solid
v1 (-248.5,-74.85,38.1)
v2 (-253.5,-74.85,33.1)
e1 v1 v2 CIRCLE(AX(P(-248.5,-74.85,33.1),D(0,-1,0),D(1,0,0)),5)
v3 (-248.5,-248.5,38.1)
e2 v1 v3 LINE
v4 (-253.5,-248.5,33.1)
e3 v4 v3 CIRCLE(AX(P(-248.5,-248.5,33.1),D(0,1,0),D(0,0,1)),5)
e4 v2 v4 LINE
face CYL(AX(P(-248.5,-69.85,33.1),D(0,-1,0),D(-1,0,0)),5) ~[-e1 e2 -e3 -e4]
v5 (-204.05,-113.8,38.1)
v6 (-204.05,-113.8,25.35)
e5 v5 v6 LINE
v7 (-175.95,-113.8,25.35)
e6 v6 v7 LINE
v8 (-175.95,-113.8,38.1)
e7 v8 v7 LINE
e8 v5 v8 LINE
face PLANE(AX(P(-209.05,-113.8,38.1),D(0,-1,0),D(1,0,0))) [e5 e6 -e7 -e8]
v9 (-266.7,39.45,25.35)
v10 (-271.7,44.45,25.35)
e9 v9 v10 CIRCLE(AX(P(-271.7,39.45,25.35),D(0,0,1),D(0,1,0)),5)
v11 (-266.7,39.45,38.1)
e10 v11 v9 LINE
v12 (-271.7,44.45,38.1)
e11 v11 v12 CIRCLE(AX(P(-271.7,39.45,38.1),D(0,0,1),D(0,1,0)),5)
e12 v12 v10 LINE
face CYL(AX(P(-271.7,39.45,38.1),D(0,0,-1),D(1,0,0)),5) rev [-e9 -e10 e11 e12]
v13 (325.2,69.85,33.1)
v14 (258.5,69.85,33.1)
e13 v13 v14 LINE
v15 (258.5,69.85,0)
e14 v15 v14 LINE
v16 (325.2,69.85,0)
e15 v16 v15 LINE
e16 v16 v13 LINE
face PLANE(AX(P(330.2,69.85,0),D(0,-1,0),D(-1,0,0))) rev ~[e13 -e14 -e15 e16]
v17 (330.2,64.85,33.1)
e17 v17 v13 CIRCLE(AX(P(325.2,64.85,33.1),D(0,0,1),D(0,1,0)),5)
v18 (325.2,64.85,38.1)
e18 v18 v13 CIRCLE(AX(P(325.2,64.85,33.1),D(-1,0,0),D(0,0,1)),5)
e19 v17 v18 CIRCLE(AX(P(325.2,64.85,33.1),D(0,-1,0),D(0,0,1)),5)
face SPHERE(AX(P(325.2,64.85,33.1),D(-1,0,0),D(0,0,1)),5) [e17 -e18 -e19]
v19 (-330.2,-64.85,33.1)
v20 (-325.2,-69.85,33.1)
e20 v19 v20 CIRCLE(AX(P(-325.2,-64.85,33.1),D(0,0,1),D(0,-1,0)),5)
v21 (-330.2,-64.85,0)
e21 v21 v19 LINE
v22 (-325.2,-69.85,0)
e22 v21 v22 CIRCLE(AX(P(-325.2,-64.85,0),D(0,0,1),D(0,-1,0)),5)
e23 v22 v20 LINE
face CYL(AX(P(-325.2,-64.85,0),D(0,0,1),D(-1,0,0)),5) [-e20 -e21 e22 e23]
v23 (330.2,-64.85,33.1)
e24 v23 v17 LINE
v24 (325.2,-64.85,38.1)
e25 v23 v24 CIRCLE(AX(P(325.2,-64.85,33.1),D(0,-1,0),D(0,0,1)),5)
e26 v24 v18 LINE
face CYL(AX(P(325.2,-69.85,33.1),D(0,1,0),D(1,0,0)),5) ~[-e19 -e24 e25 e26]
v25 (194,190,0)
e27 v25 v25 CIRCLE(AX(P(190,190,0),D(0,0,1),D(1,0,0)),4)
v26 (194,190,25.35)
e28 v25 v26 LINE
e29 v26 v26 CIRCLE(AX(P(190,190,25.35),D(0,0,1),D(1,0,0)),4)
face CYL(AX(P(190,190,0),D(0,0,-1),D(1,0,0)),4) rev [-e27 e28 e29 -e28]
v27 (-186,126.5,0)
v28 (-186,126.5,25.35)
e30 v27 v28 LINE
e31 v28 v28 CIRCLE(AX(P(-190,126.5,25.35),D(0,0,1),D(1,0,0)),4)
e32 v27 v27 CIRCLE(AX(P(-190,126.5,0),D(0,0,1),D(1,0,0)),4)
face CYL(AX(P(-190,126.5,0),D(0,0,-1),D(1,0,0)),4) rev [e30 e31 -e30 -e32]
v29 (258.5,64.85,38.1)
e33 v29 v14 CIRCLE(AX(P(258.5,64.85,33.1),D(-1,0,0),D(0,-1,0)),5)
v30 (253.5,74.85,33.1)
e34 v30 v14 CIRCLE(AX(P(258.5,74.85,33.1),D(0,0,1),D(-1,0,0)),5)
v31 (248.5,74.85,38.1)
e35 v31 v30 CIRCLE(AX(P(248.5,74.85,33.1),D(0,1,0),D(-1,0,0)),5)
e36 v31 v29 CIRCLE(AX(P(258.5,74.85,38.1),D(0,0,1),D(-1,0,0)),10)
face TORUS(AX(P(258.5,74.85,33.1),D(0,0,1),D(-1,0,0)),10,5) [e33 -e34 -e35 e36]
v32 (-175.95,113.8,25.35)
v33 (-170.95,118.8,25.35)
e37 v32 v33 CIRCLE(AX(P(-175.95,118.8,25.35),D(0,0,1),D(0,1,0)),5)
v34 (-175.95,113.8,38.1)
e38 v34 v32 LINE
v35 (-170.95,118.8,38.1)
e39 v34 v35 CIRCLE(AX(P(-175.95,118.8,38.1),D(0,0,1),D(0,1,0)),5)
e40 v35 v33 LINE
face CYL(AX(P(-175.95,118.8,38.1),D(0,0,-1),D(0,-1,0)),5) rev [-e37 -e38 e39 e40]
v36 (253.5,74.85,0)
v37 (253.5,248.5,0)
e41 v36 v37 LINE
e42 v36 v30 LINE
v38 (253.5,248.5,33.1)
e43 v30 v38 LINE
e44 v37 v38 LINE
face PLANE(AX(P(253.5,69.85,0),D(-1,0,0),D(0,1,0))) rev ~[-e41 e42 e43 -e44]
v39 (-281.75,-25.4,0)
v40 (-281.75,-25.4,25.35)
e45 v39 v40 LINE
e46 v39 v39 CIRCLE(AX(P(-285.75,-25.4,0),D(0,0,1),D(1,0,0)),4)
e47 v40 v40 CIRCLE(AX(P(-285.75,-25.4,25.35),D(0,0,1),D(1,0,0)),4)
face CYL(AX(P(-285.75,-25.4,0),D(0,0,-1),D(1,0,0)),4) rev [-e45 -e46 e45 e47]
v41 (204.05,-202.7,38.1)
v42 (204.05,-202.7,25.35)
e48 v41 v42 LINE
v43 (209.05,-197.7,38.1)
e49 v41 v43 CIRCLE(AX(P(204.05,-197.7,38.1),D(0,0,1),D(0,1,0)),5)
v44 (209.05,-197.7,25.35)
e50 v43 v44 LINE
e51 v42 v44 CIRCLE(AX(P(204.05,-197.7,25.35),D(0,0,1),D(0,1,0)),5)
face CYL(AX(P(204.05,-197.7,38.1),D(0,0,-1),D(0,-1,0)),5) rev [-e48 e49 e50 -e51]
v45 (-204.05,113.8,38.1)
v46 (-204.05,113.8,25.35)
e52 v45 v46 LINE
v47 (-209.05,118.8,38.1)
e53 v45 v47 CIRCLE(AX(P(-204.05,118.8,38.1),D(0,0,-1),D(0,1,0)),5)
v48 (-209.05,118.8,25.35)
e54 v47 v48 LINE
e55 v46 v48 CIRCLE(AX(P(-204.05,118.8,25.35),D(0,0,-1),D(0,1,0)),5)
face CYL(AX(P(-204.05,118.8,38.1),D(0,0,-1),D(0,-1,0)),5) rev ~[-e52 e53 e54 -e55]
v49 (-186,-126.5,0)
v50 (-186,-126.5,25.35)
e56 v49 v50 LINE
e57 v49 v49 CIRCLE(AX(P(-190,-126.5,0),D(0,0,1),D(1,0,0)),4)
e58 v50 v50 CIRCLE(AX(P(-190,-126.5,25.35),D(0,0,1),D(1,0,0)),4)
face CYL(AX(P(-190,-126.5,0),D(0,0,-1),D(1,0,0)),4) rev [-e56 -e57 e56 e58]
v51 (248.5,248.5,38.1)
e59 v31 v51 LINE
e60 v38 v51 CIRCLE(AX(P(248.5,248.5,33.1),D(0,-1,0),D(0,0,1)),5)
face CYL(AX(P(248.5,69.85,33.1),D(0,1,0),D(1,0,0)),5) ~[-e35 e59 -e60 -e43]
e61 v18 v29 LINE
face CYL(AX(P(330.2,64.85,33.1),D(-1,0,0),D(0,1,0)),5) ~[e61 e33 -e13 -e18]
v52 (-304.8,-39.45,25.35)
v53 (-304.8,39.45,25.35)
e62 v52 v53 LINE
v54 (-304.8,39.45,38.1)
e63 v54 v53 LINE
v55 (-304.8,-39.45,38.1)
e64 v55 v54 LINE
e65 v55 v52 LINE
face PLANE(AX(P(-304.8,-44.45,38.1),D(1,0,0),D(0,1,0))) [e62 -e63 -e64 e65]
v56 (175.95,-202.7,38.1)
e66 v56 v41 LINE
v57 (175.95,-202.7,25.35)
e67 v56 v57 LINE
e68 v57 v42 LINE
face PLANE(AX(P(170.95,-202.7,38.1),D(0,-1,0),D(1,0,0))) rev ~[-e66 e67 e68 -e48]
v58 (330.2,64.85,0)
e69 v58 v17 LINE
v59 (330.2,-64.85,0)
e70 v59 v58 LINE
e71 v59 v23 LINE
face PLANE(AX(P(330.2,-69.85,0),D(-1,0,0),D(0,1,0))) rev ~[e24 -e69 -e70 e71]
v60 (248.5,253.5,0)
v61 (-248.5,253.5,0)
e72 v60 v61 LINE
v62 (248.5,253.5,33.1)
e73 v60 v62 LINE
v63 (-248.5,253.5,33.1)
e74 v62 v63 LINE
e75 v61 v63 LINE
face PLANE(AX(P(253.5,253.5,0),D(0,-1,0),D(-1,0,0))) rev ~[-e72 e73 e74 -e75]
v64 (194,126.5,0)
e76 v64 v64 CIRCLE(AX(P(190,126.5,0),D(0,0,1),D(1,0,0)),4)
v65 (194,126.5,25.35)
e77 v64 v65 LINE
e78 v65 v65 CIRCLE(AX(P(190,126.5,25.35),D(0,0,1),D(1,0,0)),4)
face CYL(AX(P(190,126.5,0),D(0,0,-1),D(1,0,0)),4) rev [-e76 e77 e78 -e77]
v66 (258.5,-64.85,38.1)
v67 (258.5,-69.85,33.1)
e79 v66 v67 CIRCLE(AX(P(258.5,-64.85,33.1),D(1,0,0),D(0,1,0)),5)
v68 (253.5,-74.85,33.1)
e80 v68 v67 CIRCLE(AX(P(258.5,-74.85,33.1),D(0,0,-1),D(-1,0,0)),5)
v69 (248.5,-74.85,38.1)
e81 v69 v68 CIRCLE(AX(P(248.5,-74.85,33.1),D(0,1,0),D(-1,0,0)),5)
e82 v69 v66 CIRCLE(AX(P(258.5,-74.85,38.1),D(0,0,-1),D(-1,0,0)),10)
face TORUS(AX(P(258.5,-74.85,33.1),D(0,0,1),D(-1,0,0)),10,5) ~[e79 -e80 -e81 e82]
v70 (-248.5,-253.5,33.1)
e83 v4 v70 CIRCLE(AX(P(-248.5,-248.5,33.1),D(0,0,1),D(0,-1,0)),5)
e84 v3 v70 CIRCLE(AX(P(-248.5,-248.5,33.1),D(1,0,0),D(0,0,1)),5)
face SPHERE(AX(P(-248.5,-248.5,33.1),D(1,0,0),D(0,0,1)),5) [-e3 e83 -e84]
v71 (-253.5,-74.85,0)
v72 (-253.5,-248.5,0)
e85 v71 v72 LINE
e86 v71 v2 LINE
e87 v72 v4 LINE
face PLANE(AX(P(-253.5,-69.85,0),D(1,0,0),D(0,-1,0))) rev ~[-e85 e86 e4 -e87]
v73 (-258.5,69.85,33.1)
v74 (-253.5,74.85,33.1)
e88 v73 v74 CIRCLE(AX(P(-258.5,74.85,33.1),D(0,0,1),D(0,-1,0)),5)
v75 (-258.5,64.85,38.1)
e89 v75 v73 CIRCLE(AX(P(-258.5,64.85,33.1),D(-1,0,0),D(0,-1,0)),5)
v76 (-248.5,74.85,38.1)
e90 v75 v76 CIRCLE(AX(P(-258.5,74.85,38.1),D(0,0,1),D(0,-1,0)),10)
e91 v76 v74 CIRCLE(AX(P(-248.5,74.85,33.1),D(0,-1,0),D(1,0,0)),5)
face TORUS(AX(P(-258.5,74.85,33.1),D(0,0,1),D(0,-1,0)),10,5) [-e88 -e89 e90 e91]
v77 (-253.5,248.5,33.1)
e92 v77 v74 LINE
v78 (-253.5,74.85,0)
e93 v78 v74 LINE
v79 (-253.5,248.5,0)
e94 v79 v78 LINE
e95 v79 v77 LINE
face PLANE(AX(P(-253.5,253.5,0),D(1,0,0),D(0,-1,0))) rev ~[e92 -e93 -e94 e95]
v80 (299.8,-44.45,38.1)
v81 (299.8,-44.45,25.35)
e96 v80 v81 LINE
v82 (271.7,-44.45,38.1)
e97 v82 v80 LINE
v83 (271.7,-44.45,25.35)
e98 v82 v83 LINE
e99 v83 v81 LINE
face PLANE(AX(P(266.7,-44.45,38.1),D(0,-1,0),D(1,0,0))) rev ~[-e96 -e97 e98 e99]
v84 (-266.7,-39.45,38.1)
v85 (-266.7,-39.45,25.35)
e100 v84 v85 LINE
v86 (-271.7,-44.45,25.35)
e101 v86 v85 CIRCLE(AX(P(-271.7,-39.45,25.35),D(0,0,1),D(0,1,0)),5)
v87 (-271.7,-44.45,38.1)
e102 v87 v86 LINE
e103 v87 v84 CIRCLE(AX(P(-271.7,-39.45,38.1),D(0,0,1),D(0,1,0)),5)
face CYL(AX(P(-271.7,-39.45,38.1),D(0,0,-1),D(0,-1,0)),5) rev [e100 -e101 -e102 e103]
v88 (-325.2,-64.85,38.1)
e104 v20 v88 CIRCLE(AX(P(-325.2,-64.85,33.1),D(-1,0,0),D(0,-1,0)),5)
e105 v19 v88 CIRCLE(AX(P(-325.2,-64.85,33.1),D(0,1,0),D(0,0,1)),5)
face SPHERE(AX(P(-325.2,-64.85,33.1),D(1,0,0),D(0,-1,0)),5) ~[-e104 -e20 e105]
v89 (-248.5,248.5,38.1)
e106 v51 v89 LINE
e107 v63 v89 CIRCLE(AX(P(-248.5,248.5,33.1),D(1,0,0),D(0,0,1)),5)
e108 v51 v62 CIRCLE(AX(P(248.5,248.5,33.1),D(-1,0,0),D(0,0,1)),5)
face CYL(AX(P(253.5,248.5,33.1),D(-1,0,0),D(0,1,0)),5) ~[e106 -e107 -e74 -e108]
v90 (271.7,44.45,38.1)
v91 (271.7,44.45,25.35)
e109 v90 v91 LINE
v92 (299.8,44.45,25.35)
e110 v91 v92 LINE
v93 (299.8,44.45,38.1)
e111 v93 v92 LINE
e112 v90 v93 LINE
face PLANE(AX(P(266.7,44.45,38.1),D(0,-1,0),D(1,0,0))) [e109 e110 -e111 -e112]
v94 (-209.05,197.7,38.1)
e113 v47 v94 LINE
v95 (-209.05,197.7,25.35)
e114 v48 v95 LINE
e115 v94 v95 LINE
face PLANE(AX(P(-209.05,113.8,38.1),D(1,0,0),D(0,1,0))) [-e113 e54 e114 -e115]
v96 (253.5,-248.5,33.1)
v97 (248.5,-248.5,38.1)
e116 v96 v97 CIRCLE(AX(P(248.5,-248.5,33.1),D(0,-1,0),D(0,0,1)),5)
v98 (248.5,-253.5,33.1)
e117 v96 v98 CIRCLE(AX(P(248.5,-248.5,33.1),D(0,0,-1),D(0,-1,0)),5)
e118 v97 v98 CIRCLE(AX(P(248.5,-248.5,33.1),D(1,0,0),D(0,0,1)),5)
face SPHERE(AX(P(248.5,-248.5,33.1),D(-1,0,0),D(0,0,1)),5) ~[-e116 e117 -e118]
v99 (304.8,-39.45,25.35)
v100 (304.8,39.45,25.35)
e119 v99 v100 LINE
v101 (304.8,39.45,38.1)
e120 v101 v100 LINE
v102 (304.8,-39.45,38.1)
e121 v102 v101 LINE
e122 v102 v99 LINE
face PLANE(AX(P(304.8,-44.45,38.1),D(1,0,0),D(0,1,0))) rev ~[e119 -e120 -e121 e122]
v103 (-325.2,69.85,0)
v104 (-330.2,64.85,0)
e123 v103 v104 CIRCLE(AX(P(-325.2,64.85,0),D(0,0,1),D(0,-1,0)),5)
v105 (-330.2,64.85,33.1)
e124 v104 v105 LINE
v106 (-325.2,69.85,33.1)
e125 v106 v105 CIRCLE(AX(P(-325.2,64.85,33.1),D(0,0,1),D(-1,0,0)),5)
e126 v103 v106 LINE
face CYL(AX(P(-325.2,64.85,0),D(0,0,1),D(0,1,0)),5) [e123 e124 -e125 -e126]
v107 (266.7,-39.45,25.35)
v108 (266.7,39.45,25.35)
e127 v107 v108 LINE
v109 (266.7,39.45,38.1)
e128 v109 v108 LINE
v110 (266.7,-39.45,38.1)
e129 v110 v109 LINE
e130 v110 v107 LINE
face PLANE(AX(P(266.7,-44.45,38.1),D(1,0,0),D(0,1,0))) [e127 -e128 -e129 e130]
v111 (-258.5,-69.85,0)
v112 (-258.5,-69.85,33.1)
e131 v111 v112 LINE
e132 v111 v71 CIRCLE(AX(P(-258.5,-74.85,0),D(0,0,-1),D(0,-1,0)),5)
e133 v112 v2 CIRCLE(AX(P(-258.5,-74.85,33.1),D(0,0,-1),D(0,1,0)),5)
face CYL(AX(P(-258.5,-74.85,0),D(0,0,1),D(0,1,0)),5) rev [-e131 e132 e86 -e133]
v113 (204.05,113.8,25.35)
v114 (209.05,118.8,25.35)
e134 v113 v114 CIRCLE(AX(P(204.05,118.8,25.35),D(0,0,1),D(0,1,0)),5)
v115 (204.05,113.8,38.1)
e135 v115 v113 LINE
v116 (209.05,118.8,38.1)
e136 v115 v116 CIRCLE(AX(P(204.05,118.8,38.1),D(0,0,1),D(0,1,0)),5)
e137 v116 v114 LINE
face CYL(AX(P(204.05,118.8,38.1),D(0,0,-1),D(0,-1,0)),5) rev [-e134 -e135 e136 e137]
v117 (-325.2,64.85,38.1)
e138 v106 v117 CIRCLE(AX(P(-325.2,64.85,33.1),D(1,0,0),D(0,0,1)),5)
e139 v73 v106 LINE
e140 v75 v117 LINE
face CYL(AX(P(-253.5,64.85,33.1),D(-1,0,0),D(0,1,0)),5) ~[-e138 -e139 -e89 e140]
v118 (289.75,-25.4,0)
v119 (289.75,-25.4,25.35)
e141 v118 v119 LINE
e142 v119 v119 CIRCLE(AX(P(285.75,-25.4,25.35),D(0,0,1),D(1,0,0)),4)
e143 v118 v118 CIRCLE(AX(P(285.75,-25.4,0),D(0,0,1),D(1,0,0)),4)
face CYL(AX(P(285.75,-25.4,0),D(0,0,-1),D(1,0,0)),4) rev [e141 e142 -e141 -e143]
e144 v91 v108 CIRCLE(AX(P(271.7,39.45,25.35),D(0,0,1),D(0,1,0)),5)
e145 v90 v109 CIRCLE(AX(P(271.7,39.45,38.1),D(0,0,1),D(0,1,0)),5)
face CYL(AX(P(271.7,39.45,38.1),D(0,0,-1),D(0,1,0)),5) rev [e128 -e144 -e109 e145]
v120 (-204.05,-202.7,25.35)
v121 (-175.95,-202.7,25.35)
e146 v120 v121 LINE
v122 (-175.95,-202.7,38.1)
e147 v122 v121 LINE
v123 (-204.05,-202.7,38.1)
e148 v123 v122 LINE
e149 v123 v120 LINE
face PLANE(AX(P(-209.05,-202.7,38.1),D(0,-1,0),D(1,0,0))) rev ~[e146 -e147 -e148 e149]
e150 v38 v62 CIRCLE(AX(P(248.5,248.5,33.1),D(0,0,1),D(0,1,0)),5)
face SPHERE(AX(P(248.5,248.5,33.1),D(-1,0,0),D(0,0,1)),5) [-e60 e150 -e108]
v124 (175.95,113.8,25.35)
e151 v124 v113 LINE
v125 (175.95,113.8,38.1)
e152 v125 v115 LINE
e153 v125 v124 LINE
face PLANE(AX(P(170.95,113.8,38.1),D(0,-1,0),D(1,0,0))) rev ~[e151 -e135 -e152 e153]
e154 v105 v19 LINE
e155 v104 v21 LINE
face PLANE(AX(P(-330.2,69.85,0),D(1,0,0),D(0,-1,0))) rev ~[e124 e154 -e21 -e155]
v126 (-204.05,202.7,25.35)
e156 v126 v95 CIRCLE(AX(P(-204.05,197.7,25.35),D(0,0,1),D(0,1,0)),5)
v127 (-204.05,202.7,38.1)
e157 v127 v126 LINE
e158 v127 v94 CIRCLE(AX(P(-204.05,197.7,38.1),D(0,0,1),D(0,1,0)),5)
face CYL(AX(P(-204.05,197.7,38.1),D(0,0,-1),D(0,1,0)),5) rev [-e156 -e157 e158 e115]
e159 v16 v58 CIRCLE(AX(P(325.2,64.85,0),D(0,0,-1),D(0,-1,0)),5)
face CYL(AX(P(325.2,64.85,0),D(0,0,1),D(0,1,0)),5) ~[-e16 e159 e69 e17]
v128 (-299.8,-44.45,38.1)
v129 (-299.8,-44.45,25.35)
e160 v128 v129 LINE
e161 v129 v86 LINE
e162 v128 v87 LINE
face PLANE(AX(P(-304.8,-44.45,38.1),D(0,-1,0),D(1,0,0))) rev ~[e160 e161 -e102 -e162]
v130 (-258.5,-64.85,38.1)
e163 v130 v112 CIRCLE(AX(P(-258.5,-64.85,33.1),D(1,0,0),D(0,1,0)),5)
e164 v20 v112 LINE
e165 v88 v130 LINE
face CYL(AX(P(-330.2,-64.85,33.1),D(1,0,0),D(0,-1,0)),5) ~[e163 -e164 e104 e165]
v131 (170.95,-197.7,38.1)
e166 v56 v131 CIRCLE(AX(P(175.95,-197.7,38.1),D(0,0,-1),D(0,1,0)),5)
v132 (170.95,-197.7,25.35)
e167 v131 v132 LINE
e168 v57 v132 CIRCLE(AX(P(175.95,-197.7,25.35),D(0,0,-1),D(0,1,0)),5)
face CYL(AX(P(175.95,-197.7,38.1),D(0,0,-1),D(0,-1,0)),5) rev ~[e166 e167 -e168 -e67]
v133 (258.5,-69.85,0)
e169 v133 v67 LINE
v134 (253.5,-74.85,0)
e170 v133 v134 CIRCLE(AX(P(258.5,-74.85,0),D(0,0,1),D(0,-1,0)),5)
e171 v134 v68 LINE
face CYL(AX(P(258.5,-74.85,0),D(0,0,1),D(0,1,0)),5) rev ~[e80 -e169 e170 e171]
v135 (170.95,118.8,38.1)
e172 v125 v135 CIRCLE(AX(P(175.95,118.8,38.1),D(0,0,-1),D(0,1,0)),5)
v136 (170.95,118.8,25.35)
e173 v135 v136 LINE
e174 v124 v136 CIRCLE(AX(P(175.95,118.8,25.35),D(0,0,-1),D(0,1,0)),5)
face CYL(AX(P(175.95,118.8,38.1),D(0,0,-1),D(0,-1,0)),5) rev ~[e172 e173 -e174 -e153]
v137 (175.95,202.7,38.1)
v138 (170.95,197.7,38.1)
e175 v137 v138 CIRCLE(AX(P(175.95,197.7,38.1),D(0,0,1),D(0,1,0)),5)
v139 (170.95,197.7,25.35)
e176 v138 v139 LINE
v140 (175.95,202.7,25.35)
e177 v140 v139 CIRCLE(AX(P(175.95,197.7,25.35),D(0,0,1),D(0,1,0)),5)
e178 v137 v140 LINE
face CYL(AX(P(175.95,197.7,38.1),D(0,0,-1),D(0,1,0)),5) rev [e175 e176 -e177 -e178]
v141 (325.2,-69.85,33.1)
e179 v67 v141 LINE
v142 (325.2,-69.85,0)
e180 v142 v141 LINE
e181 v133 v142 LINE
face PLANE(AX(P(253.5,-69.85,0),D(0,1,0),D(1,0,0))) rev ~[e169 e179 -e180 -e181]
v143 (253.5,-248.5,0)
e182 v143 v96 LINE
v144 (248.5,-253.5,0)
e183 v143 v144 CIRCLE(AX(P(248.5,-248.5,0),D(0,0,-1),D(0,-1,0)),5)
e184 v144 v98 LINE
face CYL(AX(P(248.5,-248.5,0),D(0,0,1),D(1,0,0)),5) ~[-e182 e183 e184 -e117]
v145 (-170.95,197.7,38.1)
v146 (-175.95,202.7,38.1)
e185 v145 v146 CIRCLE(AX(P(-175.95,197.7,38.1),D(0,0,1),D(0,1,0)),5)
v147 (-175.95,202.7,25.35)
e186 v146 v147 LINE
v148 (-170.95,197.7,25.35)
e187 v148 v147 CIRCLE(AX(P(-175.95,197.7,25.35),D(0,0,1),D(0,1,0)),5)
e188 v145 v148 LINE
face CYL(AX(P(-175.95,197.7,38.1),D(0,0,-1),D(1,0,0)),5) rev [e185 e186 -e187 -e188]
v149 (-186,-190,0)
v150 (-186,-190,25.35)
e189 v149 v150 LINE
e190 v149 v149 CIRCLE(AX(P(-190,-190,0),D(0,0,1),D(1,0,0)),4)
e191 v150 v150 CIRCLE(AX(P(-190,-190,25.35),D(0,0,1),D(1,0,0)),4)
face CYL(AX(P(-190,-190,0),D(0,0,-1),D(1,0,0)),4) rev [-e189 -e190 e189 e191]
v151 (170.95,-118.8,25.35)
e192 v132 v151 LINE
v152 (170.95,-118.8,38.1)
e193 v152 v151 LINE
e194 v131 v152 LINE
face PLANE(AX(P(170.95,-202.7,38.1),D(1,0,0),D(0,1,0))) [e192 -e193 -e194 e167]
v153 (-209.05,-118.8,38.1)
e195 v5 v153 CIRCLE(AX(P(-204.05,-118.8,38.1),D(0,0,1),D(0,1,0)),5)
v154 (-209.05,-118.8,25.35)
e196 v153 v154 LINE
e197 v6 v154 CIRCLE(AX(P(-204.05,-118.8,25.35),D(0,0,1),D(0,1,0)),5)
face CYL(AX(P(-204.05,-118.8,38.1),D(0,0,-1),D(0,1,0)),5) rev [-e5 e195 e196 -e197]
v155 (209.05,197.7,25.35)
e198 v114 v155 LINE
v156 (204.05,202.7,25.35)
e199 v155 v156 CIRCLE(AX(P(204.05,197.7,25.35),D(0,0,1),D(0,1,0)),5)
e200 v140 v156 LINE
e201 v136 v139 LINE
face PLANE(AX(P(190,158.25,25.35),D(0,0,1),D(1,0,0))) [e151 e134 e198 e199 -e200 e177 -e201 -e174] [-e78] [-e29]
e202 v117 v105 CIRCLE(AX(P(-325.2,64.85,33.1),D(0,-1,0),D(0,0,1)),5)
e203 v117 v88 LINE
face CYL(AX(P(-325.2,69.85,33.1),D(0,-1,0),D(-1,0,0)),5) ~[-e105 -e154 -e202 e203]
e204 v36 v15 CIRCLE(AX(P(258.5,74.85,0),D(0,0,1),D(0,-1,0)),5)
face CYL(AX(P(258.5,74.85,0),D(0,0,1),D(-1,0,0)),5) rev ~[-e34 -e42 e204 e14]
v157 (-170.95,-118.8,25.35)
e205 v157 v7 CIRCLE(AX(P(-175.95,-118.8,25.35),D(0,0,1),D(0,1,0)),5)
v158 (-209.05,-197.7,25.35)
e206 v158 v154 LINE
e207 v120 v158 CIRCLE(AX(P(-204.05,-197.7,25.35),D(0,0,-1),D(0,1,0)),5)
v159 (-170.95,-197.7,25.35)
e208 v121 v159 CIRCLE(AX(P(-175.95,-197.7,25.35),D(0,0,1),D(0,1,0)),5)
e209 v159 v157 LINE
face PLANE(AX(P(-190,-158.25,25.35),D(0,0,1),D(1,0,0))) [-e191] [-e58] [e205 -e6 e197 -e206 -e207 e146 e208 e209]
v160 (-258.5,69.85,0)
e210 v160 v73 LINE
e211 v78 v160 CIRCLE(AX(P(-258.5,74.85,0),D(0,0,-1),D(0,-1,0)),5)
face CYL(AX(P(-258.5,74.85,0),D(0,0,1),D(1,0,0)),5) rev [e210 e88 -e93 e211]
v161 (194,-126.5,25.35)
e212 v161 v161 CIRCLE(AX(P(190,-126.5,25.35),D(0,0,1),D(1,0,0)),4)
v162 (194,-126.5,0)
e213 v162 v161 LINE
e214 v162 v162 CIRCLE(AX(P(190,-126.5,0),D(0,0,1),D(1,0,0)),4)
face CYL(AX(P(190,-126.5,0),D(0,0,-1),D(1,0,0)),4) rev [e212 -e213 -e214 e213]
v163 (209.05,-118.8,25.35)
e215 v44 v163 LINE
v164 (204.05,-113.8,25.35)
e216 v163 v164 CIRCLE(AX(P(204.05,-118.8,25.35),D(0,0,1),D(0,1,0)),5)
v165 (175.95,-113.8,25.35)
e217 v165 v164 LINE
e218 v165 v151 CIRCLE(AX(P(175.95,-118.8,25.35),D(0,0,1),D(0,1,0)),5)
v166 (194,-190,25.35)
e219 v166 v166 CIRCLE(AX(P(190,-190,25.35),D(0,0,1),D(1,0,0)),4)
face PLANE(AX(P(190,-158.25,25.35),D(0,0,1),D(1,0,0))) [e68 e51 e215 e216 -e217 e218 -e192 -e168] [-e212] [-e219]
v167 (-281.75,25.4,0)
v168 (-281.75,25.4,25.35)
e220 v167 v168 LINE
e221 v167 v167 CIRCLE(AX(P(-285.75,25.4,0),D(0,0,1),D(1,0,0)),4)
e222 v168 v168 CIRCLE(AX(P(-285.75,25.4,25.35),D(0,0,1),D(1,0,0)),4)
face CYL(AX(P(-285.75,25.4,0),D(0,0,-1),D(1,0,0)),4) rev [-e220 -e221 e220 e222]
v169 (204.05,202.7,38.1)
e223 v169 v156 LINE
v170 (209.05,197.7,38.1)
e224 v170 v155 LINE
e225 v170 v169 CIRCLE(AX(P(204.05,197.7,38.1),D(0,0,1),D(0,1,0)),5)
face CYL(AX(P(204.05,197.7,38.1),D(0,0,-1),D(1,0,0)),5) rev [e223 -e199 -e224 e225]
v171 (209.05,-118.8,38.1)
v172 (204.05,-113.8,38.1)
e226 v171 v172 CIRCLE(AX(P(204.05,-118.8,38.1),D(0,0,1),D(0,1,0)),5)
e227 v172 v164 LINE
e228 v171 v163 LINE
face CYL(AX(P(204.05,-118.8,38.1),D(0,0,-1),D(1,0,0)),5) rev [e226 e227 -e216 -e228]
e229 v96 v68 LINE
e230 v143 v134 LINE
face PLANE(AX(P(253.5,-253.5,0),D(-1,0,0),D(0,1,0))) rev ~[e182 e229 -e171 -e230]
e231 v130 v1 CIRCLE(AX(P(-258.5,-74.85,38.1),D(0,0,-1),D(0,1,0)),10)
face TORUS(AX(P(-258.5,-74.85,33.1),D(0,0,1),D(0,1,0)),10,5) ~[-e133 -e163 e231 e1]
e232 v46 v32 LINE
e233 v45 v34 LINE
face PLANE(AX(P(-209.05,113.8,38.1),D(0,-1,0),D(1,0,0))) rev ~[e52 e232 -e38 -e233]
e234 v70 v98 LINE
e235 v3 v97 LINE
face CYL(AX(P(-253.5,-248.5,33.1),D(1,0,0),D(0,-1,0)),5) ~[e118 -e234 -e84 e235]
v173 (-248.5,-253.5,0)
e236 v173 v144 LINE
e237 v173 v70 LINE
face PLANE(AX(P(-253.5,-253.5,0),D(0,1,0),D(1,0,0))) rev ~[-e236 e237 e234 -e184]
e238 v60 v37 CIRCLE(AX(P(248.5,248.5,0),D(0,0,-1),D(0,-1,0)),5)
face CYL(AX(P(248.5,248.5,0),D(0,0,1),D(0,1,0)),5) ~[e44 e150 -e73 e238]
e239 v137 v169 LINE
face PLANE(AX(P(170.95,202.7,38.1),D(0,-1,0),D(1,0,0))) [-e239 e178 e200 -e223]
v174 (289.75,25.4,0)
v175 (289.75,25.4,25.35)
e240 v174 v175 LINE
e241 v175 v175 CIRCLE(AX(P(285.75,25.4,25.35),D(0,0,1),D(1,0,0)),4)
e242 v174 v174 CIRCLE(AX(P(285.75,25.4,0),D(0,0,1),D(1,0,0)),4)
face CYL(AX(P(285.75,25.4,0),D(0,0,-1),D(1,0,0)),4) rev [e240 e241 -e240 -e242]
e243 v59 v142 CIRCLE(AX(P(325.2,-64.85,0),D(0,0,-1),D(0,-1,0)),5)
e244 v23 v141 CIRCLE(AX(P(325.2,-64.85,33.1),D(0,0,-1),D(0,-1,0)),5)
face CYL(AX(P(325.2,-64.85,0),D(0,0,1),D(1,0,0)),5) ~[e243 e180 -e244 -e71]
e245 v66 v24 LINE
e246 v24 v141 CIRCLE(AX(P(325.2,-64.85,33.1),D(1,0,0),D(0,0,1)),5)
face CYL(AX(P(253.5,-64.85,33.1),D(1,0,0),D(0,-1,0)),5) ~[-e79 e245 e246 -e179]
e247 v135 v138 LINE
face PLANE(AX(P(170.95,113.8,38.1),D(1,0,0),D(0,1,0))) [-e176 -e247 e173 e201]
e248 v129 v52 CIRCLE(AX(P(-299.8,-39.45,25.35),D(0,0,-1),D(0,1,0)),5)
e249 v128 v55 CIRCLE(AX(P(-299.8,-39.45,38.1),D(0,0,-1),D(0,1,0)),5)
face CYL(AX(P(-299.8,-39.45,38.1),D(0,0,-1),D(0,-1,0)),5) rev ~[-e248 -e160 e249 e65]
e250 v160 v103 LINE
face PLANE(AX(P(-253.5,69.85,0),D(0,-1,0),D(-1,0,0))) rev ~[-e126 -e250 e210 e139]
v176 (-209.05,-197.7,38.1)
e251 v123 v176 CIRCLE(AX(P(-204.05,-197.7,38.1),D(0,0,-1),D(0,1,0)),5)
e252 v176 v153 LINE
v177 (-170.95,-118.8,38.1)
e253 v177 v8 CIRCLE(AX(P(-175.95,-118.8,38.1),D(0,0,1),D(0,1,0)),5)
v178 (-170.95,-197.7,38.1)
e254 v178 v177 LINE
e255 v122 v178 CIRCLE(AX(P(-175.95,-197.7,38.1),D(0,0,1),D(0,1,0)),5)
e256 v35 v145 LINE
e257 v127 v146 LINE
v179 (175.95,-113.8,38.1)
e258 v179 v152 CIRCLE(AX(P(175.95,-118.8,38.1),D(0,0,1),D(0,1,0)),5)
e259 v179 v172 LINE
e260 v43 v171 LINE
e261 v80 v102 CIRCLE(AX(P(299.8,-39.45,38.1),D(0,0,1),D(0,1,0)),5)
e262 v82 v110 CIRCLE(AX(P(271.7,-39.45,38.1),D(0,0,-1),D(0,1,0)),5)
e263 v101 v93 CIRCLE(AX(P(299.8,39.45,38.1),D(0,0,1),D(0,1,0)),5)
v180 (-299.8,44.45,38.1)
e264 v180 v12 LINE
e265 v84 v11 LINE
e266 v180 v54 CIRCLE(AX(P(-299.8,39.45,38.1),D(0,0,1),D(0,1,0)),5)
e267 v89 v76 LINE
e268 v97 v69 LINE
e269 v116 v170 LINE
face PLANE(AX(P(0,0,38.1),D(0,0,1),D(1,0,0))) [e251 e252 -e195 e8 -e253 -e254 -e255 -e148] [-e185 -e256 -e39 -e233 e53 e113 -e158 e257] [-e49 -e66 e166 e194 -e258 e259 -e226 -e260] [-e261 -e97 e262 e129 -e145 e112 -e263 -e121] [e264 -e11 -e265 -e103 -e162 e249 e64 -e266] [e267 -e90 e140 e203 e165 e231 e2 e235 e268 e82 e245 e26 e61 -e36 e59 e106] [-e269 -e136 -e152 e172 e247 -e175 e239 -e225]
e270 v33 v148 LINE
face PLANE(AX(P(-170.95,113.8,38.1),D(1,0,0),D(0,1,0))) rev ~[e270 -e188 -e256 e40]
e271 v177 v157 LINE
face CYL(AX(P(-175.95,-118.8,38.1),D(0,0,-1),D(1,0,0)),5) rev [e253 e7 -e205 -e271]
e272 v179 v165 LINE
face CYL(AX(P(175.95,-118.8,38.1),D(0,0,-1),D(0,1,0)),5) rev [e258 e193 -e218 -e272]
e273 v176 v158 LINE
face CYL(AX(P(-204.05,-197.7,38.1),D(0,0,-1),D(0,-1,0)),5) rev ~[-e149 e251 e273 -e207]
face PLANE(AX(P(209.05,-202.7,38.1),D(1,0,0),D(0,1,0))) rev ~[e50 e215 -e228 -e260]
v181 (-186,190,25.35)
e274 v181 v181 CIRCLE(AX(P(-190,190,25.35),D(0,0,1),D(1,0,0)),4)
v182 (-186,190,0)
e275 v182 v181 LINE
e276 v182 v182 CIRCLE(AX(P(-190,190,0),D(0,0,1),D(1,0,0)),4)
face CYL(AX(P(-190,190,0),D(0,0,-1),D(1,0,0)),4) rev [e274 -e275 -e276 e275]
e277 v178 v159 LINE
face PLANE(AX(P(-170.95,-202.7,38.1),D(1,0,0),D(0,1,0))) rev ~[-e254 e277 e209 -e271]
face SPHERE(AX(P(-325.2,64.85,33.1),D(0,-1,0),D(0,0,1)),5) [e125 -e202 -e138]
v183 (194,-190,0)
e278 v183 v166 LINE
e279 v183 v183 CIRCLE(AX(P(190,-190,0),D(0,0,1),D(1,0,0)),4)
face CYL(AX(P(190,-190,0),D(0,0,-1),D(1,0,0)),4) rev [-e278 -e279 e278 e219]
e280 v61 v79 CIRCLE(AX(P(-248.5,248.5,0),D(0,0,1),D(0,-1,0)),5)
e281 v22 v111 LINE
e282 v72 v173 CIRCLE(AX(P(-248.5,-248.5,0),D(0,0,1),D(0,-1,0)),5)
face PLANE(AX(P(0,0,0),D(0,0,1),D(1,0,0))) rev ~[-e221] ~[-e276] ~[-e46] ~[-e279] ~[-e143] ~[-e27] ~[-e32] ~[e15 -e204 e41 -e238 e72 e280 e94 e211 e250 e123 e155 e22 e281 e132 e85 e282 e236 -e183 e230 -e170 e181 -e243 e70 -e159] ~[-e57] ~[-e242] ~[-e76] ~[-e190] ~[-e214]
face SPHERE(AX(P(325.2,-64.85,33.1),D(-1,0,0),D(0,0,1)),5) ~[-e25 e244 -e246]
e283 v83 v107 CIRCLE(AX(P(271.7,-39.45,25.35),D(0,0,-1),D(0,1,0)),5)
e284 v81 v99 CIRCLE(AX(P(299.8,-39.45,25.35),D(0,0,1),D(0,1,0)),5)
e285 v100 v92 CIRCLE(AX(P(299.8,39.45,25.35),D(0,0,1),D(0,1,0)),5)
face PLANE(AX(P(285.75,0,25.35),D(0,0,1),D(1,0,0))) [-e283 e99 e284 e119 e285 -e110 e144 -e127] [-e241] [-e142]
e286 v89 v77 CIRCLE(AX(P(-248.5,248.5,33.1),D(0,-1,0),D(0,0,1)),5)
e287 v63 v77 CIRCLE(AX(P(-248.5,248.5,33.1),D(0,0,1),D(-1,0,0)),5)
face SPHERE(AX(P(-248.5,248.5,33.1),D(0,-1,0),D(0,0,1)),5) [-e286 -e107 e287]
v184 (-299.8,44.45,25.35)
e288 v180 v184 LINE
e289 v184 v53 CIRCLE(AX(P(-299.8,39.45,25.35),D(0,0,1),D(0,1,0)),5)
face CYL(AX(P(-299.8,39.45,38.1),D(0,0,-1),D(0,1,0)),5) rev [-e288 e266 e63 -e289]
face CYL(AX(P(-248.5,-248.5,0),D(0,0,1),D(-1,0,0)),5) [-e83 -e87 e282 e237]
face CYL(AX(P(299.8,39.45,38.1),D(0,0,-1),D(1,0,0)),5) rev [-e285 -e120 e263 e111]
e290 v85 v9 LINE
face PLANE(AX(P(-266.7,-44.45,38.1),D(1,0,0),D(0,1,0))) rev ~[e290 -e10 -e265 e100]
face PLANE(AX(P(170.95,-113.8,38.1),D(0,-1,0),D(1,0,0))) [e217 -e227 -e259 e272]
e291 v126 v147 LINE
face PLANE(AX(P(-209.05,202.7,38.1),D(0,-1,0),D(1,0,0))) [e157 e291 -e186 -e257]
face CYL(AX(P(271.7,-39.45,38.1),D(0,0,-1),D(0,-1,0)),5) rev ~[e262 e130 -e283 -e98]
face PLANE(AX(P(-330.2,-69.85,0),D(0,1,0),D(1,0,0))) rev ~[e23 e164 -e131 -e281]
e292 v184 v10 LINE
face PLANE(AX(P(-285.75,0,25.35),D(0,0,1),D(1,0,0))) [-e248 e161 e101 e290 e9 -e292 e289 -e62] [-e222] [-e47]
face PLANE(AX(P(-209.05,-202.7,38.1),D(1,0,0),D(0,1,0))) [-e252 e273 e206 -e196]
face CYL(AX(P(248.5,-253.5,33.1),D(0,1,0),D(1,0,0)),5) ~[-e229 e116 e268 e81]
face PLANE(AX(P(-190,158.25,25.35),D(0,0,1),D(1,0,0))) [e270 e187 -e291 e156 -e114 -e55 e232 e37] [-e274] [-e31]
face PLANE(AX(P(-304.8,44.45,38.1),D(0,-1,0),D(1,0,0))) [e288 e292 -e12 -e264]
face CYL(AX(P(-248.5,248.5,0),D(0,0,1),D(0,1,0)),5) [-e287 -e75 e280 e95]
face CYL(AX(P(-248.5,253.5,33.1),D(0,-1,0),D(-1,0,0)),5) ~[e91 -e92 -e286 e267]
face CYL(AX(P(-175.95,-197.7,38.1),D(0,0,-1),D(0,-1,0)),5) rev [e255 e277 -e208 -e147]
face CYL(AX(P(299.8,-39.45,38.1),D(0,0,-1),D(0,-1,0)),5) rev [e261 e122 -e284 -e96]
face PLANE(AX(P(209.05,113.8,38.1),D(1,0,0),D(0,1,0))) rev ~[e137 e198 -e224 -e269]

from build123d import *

# Parameters (mm, degrees)
F0_R     = 4
F1_DEPTH = 38.1
F2_R     = 5
F3_W     = 38.1
F3_H     = 88.9
F3_R     = 4
F4_DEPTH = 12.75
F5_R     = 5


with BuildPart() as f1:
    # F0 (on Top) → F1 (new body)
    with BuildSketch(Plane.XY):
        Polygon((253.5, 253.5), (-253.5, 253.5), (-253.5, 69.85), (-330.2, 69.85), (-330.2, -69.85), (-253.5, -69.85), (-253.5, -253.5), (253.5, -253.5), (253.5, -69.85), (330.2, -69.85), (330.2, 69.85), (253.5, 69.85), align=None)
        with Locations((-190, -190)):
            Circle(F0_R, mode=Mode.SUBTRACT)
        with Locations((-190, -126.5)):
            Circle(F0_R, mode=Mode.SUBTRACT)
        with Locations((-285.75, -25.4)):
            Circle(F0_R, mode=Mode.SUBTRACT)
        with Locations((190, -190)):
            Circle(F0_R, mode=Mode.SUBTRACT)
        with Locations((190, -126.5)):
            Circle(F0_R, mode=Mode.SUBTRACT)
        with Locations((285.75, -25.4)):
            Circle(F0_R, mode=Mode.SUBTRACT)
        with Locations((-285.75, 25.4)):
            Circle(F0_R, mode=Mode.SUBTRACT)
        with Locations((-190, 126.5)):
            Circle(F0_R, mode=Mode.SUBTRACT)
        with Locations((-190, 190)):
            Circle(F0_R, mode=Mode.SUBTRACT)
        with Locations((285.75, 25.4)):
            Circle(F0_R, mode=Mode.SUBTRACT)
        with Locations((190, 126.5)):
            Circle(F0_R, mode=Mode.SUBTRACT)
        with Locations((190, 190)):
            Circle(F0_R, mode=Mode.SUBTRACT)
    extrude(amount=F1_DEPTH)

    # F2
    f2_edges = [f1.edges().sort_by_distance(p)[0] for p in [
        (0, -253.5, 38.1),
        (-253.5, -161.675, 38.1),
        (-253.5, -253.5, 19.05),
        (-253.5, -69.85, 19.05),
        (-291.85, -69.85, 38.1),
        (-330.2, -69.85, 19.05),
        (-330.2, 0, 38.1),
        (-291.85, 69.85, 38.1),
        (-253.5, 161.675, 38.1),
        (0, 253.5, 38.1),
        (253.5, 161.675, 38.1),
        (291.85, 69.85, 38.1),
        (253.5, 69.85, 19.05),
        (253.5, 253.5, 19.05),
        (-253.5, 253.5, 19.05),
        (-253.5, 69.85, 19.05),
        (-330.2, 69.85, 19.05),
        (291.85, -69.85, 38.1),
        (330.2, 0, 38.1),
        (330.2, 69.85, 19.05),
        (330.2, -69.85, 19.05),
        (253.5, -69.85, 19.05),
        (253.5, -161.675, 38.1),
        (253.5, -253.5, 19.05),
    ]]
    fillet(f2_edges, radius=F2_R)

    # F3 (on face) → F4 (cut)
    with BuildSketch(Plane.XY.offset(38.1)):
        with Locations((-190, 158.25)):
            Rectangle(F3_W, F3_H)
        with Locations((-190, 126.5)):
            Circle(F3_R, mode=Mode.SUBTRACT)
        with Locations((-190, 190)):
            Circle(F3_R, mode=Mode.SUBTRACT)
        with Locations((190, 158.25)):
            Rectangle(F3_W, F3_H)
        with Locations((190, 126.5)):
            Circle(F3_R, mode=Mode.SUBTRACT)
        with Locations((190, 190)):
            Circle(F3_R, mode=Mode.SUBTRACT)
        with Locations((285.75, 0)):
            Rectangle(F3_W, F3_H)
        with Locations((285.75, -25.4)):
            Circle(F3_R, mode=Mode.SUBTRACT)
        with Locations((285.75, 25.4)):
            Circle(F3_R, mode=Mode.SUBTRACT)
        with Locations((190, -158.25)):
            Rectangle(F3_W, F3_H)
        with Locations((190, -190)):
            Circle(F3_R, mode=Mode.SUBTRACT)
        with Locations((190, -126.5)):
            Circle(F3_R, mode=Mode.SUBTRACT)
        with Locations((-190, -158.25)):
            Rectangle(F3_W, F3_H)
        with Locations((-190, -190)):
            Circle(F3_R, mode=Mode.SUBTRACT)
        with Locations((-190, -126.5)):
            Circle(F3_R, mode=Mode.SUBTRACT)
        with Locations((-285.75, 0)):
            Rectangle(F3_W, F3_H)
        with Locations((-285.75, -25.4)):
            Circle(F3_R, mode=Mode.SUBTRACT)
        with Locations((-285.75, 25.4)):
            Circle(F3_R, mode=Mode.SUBTRACT)
    extrude(amount=-F4_DEPTH, mode=Mode.SUBTRACT)

    # F5
    f5_edges = [f1.edges().sort_by_distance(p)[0] for p in [
        (170.95, 202.7, 31.725),
        (170.95, 113.8, 31.725),
        (209.05, 202.7, 31.725),
        (209.05, 113.8, 31.725),
        (304.8, -44.45, 31.725),
        (304.8, 44.45, 31.725),
        (266.7, 44.45, 31.725),
        (266.7, -44.45, 31.725),
        (170.95, -202.7, 31.725),
        (170.95, -113.8, 31.725),
        (209.05, -113.8, 31.725),
        (209.05, -202.7, 31.725),
        (-209.05, -113.8, 31.725),
        (-170.95, -113.8, 31.725),
        (-170.95, -202.7, 31.725),
        (-209.05, -202.7, 31.725),
        (-304.8, -44.45, 31.725),
        (-266.7, -44.45, 31.725),
        (-266.7, 44.45, 31.725),
        (-304.8, 44.45, 31.725),
        (-209.05, 202.7, 31.725),
        (-170.95, 202.7, 31.725),
        (-170.95, 113.8, 31.725),
        (-209.05, 113.8, 31.725),
    ]]
    fillet(f5_edges, radius=F5_R)


solid = f1.part
